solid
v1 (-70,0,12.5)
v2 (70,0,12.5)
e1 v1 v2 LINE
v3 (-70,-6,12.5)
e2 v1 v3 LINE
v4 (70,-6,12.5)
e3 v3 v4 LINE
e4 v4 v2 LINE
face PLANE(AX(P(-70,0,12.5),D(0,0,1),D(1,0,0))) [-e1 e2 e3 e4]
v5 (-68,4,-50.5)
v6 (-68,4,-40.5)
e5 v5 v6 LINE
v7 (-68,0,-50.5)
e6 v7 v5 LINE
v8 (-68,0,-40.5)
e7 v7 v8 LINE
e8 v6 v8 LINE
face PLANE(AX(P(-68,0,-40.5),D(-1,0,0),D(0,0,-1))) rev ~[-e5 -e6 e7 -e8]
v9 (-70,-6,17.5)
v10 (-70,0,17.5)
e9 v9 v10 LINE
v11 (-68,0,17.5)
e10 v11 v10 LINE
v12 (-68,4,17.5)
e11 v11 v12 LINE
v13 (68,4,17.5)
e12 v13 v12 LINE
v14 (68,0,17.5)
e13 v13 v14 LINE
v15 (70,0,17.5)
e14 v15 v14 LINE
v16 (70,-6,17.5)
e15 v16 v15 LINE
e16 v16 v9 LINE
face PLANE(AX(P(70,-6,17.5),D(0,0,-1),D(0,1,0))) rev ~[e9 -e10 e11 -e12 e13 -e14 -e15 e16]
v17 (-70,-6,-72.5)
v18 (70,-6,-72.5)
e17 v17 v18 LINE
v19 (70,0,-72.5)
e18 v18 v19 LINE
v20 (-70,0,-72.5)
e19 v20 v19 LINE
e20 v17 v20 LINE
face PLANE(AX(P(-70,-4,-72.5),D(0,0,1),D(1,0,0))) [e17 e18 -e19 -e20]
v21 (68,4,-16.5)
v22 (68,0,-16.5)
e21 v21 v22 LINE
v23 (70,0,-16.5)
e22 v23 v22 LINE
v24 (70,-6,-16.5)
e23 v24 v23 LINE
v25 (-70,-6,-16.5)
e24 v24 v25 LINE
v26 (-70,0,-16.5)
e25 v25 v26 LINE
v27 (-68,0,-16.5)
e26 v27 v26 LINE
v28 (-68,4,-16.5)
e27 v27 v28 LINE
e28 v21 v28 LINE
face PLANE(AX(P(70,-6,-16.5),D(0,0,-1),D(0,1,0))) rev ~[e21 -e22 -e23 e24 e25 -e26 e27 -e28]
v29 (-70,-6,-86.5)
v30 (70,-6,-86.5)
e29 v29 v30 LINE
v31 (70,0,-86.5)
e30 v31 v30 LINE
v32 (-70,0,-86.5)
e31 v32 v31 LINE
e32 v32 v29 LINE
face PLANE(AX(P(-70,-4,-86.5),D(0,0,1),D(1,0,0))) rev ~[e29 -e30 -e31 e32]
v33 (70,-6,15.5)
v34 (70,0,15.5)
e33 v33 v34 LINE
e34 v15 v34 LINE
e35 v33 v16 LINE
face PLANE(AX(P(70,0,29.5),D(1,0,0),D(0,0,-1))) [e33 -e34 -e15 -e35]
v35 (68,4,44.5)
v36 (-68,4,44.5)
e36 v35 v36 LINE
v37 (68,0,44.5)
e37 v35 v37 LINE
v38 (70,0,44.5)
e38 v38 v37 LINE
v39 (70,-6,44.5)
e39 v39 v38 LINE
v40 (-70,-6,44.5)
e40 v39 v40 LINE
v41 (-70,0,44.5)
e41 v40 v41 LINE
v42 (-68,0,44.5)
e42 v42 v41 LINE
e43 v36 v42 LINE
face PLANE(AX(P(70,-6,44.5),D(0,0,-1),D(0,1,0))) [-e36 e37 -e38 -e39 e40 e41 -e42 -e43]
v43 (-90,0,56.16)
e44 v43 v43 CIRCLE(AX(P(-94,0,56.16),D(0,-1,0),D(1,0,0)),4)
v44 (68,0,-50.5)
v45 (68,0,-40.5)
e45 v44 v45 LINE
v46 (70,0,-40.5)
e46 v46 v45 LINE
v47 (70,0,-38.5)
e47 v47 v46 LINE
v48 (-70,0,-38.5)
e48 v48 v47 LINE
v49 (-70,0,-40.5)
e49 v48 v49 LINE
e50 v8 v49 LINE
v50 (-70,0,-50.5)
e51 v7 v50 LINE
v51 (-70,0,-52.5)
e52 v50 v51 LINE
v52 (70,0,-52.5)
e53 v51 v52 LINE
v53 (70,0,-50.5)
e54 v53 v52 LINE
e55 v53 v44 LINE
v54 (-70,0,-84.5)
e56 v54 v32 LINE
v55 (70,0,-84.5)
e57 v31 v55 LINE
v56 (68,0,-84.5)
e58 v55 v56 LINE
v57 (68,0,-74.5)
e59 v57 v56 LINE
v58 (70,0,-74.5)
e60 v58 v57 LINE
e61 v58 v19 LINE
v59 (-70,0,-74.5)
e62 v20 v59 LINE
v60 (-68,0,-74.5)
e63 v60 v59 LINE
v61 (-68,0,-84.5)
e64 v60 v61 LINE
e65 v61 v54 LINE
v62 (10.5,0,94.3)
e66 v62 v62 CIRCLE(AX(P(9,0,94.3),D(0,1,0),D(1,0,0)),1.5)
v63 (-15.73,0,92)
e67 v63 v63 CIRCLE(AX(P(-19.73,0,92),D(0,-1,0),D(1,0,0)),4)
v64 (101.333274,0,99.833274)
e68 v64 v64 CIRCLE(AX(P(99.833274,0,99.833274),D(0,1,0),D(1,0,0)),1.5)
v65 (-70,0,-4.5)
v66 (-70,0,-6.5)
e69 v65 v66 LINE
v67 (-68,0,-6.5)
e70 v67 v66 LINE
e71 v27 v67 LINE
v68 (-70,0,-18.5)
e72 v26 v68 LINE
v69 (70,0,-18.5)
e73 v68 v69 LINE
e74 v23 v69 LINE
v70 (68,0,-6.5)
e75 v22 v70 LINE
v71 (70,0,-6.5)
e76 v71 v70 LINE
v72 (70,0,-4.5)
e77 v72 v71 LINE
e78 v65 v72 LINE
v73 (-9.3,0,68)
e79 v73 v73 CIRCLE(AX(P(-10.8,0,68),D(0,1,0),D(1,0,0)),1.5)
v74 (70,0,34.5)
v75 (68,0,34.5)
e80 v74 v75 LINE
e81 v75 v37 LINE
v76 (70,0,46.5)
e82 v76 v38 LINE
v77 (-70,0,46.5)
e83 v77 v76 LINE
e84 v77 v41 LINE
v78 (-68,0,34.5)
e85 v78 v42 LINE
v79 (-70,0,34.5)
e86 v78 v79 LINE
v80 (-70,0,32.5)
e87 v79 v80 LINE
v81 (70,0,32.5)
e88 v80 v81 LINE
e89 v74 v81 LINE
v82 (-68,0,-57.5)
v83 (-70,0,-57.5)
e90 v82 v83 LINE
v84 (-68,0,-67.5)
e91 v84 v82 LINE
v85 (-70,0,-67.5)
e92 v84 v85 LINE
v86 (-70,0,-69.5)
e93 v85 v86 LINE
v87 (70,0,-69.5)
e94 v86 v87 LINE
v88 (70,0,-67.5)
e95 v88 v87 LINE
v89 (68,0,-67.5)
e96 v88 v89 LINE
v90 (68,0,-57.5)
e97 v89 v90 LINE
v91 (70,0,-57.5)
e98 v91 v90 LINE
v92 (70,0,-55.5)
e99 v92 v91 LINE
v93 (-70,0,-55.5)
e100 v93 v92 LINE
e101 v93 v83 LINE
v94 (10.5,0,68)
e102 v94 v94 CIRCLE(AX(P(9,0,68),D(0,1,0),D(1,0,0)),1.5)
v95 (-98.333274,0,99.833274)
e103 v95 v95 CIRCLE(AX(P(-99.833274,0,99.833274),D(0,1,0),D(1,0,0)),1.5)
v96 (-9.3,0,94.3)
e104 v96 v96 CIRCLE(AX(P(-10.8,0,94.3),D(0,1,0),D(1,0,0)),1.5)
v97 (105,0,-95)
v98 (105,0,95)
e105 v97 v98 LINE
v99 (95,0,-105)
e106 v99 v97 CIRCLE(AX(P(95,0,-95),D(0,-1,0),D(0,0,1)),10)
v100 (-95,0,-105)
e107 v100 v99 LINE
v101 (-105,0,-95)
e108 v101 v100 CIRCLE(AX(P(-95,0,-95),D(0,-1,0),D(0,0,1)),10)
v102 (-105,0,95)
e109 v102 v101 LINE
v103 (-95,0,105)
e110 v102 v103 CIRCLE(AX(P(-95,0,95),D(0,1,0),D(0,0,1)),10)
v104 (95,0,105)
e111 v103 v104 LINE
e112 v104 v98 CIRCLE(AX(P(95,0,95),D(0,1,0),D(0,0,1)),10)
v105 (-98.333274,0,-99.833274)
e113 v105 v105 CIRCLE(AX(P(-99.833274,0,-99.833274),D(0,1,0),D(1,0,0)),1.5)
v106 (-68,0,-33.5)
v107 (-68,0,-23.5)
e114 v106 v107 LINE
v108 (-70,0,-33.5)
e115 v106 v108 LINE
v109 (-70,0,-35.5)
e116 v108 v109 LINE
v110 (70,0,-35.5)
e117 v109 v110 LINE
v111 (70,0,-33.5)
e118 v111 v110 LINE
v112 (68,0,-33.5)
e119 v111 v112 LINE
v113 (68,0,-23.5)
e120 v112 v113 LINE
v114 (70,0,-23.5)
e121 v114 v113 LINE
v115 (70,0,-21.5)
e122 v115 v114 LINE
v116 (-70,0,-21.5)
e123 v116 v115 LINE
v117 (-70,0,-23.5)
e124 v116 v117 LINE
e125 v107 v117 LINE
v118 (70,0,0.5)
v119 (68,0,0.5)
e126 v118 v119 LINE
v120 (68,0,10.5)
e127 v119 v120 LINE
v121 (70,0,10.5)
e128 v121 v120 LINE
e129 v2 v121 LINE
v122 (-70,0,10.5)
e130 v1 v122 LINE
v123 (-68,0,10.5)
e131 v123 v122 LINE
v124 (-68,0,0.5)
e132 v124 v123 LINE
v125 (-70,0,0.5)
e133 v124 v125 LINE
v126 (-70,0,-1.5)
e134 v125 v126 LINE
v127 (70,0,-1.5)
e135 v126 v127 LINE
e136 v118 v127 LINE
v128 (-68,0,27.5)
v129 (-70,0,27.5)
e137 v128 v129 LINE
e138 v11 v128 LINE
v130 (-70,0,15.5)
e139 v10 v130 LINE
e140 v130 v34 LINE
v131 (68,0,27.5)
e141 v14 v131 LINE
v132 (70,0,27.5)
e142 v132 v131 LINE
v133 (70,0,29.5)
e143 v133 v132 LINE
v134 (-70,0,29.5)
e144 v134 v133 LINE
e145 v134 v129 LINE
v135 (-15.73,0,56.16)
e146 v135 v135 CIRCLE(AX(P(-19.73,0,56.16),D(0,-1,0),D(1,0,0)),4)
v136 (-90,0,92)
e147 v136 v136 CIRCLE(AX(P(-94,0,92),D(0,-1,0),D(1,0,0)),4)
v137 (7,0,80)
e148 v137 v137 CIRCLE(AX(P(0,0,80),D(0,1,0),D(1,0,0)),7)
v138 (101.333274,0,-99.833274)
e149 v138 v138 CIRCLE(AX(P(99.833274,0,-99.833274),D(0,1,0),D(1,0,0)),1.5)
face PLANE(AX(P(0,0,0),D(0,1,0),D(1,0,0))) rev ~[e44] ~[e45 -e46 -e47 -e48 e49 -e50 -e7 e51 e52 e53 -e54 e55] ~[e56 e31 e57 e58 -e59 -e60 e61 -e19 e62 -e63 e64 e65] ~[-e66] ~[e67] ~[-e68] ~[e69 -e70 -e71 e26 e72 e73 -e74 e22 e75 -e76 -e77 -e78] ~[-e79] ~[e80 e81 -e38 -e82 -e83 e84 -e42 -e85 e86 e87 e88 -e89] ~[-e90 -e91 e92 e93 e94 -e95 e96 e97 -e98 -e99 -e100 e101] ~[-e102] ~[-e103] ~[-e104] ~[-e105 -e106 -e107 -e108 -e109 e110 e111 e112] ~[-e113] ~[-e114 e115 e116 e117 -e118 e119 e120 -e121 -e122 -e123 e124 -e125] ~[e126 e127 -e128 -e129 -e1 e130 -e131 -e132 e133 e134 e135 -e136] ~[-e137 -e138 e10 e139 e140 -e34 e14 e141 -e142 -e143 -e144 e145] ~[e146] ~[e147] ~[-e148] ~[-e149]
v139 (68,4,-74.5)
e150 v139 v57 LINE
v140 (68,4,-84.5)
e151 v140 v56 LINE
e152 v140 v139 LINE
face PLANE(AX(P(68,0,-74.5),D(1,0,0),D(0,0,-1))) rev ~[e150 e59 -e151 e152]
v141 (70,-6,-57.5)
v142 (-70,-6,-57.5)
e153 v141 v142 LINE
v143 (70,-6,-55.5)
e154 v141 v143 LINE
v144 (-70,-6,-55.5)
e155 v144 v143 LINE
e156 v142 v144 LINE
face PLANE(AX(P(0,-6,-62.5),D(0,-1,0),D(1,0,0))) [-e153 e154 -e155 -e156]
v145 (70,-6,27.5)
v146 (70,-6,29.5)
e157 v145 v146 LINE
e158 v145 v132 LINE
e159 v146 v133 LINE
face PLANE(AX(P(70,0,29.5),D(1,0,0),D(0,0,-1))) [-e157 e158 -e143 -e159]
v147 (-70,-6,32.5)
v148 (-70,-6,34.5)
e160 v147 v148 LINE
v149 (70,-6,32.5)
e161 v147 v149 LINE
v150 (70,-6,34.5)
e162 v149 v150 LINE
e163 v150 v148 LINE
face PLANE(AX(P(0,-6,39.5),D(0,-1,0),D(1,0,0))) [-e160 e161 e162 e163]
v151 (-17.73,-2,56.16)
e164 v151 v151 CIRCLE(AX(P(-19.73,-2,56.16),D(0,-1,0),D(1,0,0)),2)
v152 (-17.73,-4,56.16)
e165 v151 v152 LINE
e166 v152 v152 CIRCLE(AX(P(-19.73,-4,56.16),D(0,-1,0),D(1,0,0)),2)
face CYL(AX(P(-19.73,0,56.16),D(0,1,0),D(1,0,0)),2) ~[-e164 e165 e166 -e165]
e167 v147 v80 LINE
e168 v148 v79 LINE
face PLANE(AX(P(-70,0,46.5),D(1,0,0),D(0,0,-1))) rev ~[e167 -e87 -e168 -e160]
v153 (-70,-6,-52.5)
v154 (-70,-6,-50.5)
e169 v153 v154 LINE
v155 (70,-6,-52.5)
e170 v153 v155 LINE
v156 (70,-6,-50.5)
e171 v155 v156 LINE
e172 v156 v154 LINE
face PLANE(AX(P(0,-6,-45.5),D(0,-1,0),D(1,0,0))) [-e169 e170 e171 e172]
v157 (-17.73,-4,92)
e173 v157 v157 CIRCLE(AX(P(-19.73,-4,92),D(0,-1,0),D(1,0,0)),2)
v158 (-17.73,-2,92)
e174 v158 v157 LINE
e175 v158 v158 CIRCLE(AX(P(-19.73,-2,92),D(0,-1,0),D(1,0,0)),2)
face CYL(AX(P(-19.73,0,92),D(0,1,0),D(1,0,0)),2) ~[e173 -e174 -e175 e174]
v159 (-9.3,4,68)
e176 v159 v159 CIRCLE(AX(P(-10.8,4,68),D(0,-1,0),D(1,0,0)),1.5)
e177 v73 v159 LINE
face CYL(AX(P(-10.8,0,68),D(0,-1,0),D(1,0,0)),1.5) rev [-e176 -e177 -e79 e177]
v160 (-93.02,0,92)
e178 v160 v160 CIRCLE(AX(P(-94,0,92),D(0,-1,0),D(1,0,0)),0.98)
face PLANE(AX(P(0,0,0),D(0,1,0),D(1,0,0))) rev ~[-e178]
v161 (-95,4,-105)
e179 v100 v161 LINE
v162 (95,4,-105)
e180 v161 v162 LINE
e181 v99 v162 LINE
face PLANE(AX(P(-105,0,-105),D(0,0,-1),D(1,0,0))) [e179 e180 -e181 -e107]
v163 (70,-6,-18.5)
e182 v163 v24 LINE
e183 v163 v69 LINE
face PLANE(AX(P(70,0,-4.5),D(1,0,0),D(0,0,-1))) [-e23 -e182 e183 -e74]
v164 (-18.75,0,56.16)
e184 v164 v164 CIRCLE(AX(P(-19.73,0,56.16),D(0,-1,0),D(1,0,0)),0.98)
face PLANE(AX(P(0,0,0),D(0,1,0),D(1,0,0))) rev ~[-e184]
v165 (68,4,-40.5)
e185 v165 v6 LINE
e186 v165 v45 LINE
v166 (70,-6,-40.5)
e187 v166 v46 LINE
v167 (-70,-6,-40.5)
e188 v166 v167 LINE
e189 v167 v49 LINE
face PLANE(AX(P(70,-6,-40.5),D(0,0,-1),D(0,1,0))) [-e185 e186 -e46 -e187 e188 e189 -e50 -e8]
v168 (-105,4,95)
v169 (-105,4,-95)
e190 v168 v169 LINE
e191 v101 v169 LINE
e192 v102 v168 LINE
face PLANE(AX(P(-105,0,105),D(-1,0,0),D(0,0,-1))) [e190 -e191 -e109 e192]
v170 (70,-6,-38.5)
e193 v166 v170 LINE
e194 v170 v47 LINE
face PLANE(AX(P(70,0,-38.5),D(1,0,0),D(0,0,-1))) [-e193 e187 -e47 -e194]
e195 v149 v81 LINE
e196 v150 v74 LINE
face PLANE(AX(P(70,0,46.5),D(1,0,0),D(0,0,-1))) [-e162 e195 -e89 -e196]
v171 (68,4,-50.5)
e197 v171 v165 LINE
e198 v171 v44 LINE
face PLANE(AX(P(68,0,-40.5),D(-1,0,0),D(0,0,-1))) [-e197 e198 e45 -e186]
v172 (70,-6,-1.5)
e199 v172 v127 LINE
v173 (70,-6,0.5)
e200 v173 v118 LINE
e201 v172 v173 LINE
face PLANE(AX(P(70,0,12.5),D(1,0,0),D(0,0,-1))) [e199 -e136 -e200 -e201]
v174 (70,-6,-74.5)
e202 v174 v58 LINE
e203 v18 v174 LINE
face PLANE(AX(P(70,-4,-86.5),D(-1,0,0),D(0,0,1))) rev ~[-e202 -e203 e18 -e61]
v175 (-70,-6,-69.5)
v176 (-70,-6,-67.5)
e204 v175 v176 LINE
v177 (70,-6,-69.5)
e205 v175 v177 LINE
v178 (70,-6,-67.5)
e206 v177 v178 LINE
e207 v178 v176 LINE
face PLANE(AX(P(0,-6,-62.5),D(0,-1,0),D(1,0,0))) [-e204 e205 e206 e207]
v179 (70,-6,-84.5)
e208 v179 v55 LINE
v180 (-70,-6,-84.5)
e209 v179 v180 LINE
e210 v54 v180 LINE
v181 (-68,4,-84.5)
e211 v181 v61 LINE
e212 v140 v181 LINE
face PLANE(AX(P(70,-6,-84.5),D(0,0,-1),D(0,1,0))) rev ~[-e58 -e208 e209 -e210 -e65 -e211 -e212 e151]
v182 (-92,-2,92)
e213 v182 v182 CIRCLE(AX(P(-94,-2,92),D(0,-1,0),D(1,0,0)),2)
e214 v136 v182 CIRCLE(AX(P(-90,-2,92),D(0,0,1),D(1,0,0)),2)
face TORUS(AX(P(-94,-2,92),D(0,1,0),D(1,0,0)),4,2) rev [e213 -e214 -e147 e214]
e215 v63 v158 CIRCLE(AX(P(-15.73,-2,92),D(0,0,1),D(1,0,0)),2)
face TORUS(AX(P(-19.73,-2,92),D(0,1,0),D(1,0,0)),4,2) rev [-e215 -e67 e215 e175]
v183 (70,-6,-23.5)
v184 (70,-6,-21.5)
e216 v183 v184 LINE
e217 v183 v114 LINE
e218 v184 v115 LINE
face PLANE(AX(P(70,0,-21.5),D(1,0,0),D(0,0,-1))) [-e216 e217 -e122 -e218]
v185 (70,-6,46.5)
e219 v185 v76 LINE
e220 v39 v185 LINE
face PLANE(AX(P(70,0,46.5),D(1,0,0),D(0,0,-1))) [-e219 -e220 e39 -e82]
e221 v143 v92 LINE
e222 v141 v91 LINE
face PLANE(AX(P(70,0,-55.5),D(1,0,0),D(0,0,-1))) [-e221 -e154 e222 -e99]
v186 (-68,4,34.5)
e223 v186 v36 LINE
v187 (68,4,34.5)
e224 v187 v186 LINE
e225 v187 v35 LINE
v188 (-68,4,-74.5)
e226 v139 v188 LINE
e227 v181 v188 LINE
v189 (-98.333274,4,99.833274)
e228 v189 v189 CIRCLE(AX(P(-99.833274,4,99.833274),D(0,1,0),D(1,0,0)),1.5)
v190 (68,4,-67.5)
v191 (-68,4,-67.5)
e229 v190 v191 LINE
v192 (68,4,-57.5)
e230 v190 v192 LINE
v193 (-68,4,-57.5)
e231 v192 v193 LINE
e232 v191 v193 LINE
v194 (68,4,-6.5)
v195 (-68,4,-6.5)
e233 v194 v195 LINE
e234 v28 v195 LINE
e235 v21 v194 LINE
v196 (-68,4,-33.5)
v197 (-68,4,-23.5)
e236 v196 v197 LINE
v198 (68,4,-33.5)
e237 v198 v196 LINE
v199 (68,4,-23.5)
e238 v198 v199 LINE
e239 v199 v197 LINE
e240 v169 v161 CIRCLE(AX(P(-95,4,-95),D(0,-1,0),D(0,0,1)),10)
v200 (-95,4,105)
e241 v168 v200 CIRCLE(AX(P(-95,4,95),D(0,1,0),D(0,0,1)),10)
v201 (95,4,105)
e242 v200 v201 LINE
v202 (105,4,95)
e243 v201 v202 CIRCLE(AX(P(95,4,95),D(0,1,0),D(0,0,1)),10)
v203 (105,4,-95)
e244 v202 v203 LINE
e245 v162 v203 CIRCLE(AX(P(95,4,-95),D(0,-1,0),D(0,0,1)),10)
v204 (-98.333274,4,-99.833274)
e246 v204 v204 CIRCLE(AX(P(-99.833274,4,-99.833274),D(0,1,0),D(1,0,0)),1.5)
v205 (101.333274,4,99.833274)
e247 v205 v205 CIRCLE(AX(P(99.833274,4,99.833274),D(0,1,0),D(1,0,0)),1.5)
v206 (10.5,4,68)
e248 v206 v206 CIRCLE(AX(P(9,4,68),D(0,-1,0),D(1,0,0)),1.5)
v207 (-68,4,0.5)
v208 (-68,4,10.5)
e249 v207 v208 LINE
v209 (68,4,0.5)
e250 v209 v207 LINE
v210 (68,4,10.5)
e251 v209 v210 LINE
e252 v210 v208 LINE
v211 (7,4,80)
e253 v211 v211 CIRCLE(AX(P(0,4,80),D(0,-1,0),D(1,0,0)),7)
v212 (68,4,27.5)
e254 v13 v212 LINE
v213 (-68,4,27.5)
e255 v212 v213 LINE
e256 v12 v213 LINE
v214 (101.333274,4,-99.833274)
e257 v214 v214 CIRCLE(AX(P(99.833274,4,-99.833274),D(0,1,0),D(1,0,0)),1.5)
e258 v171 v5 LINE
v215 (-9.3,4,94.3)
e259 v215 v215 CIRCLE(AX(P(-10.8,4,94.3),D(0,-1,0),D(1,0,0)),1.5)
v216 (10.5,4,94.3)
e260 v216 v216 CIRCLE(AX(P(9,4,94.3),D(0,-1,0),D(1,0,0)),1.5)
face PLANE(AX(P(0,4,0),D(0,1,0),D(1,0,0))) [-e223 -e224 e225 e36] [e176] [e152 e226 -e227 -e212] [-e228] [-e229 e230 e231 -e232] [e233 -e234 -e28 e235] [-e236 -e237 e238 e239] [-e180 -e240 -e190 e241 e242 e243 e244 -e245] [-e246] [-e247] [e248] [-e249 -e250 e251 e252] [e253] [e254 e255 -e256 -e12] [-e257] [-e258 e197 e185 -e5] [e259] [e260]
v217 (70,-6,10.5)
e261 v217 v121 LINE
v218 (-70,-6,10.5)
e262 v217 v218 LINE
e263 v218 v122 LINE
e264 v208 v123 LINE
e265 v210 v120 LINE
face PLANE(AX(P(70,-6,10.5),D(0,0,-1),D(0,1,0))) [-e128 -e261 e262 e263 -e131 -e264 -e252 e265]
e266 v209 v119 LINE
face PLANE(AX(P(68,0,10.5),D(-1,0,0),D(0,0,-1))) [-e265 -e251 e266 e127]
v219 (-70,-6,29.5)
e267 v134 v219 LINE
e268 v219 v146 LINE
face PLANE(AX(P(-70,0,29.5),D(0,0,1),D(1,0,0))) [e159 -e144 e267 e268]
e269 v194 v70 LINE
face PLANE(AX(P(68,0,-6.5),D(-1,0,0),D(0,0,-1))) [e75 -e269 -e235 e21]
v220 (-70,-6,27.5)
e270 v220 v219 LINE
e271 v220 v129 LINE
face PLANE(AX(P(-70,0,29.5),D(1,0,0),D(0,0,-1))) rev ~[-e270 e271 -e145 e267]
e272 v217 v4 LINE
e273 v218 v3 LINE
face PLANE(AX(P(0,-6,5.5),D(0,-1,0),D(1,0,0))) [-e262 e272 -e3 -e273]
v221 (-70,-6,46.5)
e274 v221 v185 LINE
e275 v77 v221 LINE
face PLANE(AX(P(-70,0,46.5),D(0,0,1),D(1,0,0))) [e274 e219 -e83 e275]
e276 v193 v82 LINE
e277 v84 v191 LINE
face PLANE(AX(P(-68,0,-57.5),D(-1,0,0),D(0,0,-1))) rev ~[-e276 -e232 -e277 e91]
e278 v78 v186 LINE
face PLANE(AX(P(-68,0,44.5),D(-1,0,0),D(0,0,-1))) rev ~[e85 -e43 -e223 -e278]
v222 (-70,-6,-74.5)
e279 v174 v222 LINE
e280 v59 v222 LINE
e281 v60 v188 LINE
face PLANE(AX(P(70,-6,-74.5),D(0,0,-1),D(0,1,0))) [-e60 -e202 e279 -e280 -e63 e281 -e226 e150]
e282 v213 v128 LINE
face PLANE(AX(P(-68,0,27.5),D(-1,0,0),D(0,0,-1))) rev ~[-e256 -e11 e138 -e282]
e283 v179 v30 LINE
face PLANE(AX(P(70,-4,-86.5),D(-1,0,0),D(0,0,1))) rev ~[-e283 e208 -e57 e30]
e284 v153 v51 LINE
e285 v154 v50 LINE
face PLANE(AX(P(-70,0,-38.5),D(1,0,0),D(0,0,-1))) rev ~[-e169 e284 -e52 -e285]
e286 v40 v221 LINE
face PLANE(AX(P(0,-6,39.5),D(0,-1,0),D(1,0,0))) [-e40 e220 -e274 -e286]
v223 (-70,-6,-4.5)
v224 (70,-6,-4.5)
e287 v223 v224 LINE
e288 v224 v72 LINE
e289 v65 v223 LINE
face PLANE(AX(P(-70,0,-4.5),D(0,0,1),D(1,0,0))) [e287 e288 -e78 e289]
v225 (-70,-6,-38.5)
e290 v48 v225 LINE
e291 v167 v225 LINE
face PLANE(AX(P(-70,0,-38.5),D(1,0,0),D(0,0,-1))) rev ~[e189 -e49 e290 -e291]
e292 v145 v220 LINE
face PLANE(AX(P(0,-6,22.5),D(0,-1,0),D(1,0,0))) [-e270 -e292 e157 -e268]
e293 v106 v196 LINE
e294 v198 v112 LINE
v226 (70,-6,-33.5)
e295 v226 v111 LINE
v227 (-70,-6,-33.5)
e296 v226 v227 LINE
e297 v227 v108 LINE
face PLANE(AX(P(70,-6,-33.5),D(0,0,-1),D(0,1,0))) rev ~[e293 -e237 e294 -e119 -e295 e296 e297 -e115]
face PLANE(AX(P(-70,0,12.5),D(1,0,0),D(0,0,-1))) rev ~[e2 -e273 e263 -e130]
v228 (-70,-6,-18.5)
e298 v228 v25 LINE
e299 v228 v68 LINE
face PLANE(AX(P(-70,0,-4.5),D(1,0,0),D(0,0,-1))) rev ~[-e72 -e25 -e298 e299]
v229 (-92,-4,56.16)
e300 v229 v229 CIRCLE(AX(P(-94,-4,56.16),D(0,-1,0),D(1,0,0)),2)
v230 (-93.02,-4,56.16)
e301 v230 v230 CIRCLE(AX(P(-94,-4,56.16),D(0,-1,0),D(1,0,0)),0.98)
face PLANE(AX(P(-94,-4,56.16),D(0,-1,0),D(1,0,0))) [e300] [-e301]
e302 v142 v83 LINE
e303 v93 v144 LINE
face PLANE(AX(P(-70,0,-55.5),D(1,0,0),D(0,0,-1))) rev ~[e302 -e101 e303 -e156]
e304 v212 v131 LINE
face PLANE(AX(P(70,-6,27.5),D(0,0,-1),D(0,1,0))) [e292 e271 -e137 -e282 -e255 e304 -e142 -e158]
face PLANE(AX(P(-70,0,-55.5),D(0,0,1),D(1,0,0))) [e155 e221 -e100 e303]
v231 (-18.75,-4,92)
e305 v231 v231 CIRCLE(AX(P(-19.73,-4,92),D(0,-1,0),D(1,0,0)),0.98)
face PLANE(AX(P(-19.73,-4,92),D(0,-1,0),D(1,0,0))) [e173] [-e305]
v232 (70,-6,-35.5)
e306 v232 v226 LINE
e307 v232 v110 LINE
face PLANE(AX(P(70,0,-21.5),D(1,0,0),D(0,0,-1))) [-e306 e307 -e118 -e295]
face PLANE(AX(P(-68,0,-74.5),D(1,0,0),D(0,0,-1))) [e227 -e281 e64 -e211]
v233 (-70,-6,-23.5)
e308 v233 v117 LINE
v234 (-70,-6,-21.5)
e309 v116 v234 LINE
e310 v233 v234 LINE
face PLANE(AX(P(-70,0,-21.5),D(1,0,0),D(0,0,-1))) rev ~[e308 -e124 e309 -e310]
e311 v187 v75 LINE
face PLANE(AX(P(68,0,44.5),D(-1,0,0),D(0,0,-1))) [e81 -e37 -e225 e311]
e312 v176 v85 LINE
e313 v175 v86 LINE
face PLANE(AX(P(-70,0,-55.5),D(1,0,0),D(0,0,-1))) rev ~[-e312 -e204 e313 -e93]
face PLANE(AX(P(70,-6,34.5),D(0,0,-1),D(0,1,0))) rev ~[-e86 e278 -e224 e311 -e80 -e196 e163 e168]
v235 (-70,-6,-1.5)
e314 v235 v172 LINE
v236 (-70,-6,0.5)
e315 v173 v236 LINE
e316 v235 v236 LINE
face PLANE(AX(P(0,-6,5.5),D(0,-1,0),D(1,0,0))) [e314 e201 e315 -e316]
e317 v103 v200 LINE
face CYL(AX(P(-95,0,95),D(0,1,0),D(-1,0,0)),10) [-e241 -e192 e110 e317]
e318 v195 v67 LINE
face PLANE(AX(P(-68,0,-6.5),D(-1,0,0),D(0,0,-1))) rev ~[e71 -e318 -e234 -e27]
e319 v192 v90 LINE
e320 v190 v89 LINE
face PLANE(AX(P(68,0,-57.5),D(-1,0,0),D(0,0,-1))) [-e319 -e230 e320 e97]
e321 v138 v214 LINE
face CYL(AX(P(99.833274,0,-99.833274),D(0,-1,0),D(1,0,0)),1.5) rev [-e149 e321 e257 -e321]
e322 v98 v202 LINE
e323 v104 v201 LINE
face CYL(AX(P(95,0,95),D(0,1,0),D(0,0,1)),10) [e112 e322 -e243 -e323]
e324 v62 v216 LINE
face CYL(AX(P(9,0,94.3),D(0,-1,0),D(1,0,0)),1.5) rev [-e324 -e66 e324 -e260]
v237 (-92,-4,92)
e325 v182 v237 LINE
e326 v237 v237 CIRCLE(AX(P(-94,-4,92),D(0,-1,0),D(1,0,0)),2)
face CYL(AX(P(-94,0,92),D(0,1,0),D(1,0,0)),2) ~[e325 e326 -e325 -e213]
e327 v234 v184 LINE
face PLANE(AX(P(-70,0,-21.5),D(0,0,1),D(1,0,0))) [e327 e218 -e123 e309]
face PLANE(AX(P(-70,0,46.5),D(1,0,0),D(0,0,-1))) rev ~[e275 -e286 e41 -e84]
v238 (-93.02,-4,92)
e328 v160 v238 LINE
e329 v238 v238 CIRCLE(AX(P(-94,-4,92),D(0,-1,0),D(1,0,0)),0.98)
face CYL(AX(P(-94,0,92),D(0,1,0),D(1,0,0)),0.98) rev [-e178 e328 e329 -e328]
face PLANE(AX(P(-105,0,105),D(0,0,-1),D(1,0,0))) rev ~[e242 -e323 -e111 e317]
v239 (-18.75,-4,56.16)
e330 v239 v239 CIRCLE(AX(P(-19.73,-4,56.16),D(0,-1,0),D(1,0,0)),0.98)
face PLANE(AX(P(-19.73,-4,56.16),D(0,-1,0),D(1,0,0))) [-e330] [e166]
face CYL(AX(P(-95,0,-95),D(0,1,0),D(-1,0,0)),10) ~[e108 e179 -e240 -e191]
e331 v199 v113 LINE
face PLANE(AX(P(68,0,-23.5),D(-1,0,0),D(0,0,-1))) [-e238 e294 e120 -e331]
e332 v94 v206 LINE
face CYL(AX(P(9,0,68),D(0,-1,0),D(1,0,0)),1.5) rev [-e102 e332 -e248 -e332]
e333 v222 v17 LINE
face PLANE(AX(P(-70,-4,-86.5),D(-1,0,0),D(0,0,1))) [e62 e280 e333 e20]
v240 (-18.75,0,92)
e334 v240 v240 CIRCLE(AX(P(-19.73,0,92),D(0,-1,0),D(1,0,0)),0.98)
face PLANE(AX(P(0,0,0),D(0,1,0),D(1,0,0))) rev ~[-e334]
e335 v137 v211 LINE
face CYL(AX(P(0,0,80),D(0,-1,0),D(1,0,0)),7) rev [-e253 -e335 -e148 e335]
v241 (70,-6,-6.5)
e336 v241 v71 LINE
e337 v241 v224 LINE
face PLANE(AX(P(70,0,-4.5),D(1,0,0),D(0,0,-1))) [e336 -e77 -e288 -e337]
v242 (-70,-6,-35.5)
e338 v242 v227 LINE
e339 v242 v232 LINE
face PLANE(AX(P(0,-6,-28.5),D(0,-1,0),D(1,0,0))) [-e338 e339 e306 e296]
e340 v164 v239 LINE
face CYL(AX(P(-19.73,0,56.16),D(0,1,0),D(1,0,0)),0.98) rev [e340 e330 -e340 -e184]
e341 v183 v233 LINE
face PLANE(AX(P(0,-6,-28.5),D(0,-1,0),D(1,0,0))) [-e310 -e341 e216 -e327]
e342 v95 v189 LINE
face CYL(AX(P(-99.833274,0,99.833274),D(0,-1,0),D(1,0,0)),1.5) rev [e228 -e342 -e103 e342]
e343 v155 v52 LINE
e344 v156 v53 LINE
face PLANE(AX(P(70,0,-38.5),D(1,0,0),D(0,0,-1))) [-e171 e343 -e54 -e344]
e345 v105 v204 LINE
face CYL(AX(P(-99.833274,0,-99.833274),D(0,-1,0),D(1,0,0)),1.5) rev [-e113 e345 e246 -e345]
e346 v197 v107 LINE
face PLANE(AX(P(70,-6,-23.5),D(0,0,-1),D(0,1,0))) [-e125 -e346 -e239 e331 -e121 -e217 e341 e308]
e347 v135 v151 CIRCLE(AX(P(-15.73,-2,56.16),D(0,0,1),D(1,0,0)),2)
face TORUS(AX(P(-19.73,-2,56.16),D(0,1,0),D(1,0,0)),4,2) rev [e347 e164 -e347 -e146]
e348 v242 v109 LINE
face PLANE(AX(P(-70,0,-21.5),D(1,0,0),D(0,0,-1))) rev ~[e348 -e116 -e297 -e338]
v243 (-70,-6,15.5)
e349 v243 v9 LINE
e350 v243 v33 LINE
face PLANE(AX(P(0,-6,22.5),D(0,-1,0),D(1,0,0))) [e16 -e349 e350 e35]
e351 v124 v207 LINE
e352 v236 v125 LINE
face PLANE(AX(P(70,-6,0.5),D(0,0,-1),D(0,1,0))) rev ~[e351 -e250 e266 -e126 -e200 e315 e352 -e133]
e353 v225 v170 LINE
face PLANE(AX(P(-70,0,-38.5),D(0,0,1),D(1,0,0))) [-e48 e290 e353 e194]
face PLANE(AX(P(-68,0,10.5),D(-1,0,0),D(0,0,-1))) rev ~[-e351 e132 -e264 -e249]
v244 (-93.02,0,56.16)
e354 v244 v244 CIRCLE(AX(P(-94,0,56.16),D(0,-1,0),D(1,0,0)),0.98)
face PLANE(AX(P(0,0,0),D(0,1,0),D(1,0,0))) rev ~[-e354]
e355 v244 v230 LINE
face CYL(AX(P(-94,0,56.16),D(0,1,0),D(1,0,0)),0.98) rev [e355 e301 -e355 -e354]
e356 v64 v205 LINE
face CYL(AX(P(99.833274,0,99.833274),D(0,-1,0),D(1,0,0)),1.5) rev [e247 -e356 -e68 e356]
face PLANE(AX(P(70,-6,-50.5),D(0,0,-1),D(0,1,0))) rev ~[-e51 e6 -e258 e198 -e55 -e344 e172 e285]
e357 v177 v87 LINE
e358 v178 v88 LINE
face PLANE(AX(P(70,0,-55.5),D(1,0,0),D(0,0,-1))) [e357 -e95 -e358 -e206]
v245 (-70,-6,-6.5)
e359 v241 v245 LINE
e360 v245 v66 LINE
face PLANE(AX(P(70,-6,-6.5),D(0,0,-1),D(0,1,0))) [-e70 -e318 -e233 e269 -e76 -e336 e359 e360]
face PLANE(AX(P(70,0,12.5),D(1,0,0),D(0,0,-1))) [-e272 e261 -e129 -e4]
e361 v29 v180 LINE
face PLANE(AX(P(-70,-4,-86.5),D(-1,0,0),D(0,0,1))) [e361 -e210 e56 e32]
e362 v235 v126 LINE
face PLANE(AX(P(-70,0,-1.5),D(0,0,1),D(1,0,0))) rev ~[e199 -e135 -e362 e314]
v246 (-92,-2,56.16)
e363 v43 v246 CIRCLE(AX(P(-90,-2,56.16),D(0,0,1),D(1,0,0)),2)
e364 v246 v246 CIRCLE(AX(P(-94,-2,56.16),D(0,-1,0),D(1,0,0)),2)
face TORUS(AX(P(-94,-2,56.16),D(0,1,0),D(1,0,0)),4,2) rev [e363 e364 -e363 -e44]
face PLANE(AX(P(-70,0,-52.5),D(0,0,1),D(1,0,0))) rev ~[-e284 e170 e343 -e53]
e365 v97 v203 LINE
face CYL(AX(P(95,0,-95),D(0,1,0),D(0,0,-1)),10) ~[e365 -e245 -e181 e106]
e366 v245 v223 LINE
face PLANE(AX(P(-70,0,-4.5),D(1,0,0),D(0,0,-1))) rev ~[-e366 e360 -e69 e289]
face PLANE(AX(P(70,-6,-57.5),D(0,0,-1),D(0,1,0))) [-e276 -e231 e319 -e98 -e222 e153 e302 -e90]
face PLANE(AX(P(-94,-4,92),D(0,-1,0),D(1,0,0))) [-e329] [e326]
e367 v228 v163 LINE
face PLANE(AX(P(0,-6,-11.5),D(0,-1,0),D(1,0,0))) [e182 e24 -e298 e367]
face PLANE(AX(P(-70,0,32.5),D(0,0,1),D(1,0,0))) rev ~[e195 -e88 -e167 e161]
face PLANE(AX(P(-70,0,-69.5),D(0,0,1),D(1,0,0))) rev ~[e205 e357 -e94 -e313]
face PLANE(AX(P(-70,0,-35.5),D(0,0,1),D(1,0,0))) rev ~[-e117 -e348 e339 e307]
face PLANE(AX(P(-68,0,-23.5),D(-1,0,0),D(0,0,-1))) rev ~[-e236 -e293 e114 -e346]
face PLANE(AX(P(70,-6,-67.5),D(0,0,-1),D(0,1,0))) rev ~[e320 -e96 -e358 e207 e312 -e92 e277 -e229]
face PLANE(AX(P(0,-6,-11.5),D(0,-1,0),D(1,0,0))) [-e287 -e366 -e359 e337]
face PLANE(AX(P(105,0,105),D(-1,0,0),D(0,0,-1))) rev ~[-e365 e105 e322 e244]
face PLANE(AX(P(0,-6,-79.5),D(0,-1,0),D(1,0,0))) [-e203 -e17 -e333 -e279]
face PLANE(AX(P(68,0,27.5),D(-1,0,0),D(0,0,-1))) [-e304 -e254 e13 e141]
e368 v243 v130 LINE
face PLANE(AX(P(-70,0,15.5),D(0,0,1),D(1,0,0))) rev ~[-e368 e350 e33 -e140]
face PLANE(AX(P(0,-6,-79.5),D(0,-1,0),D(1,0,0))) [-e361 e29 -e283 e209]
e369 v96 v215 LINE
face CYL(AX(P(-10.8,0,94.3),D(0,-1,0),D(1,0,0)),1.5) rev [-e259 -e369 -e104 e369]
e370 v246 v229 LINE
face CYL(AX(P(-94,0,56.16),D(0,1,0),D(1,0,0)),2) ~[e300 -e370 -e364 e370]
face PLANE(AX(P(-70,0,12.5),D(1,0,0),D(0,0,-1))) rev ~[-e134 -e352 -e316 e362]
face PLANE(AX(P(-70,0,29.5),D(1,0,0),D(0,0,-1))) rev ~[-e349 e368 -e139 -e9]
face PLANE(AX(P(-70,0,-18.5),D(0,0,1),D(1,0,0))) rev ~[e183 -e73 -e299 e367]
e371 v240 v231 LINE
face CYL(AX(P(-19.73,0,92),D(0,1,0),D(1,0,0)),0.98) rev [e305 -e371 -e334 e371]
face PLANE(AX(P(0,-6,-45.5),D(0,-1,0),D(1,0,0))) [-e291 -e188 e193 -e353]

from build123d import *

# Parameters (mm, degrees)
SKETCH1_W               = 210
SKETCH1_H               = 210
MAINEXTRUDE_DEPTH       = 4
SKETCH1_6_R             = 1.5
SCREWHOLES_DEPTH        = 4
ROUNDEDCORNERS_R        = 10
SKETCH3_R               = 7
SKETCH3_R_2             = 1.5
SKETCH3_W               = 136
SKETCH3_H               = 10
TRENCH_DEPTH            = 10
SKETCH4_W               = 140
SKETCH4_H               = 14
SKETCH4_W_2             = 136
SKETCH4_H_2             = 10
TRENCH_WALLS_DEPTH      = 4
SKETCH5_W               = 140
SKETCH5_H               = 14
TRENCH_BOTTOM_DEPTH     = 2
SKETCH7_W               = 10
SKETCH7_H               = 6
WIRE_OPENING_DEPTH      = 36
WIRE_OPENING_DEPTH_BACK = 176
SKETCH9_R               = 2
SKETCH9_R_2             = 0.98
PCB_HOLES_DEPTH         = 4
PCB_ROUNDS_R            = 2


with BuildPart() as part:
    # Sketch1 → MainExtrude (new body)
    with BuildSketch(Plane(origin=(0, 0, 0), x_dir=(1, 0, 0), z_dir=(0, 1, 0))):
        Rectangle(SKETCH1_W, SKETCH1_H)
    extrude(amount=MAINEXTRUDE_DEPTH)

    # Sketch1<6> → ScrewHoles (cut)
    with BuildSketch(Plane(origin=(0, 0, 0), x_dir=(1, 0, 0), z_dir=(0, 1, 0))):
        with Locations((-99.833273811, 99.833273811)):
            Circle(SKETCH1_6_R)
        with Locations((-99.833273811, -99.833273811)):
            Circle(SKETCH1_6_R)
        with Locations((99.833273811, -99.833273811)):
            Circle(SKETCH1_6_R)
        with Locations((99.833273811, 99.833273811)):
            Circle(SKETCH1_6_R)
    extrude(amount=SCREWHOLES_DEPTH, mode=Mode.SUBTRACT)

    # RoundedCorners
    roundedcorners_edges = [part.edges().sort_by_distance(p)[0] for p in [
        (-105, 2, -105),
        (-105, 2, 105),
        (105, 2, 105),
        (105, 2, -105),
    ]]
    fillet(roundedcorners_edges, radius=ROUNDEDCORNERS_R)

    # Sketch3 → Trench (cut)
    with BuildSketch(Plane(origin=(0, 0, 0), x_dir=(1, 0, 0), z_dir=(0, 1, 0))):
        with Locations((0, -80)):
            Circle(SKETCH3_R)
        with Locations((-10.8, -68)):
            Circle(SKETCH3_R_2)
        with Locations((-10.8, -94.3)):
            Circle(SKETCH3_R_2)
        with Locations((9, -94.3)):
            Circle(SKETCH3_R_2)
        with Locations((9, -68)):
            Circle(SKETCH3_R_2)
        with Locations((0, 79.5)):
            Rectangle(SKETCH3_W, SKETCH3_H)
        with Locations((0, 62.5)):
            Rectangle(SKETCH3_W, SKETCH3_H)
        with Locations((0, 45.5)):
            Rectangle(SKETCH3_W, SKETCH3_H)
        with Locations((0, 28.5)):
            Rectangle(SKETCH3_W, SKETCH3_H)
        with Locations((0, 11.5)):
            Rectangle(SKETCH3_W, SKETCH3_H)
        with Locations((0, -5.5)):
            Rectangle(SKETCH3_W, SKETCH3_H)
        with Locations((0, -22.5)):
            Rectangle(SKETCH3_W, SKETCH3_H)
        with Locations((0, -39.5)):
            Rectangle(SKETCH3_W, SKETCH3_H)
    extrude(amount=TRENCH_DEPTH, mode=Mode.SUBTRACT)

    # Sketch4 → Trench Walls (add)
    with BuildSketch(Plane(origin=(0, 0, 0), x_dir=(1, 0, 0), z_dir=(0, 1, 0))):
        with Locations((0, 79.5)):
            Rectangle(SKETCH4_W, SKETCH4_H)
        with Locations((0, 79.5)):
            Rectangle(SKETCH4_W_2, SKETCH4_H_2, mode=Mode.SUBTRACT)
        with Locations((0, 62.5)):
            Rectangle(SKETCH4_W, SKETCH4_H)
        with Locations((0, 62.5)):
            Rectangle(SKETCH4_W_2, SKETCH4_H_2, mode=Mode.SUBTRACT)
        with Locations((0, 45.5)):
            Rectangle(SKETCH4_W, SKETCH4_H)
        with Locations((0, 45.5)):
            Rectangle(SKETCH4_W_2, SKETCH4_H_2, mode=Mode.SUBTRACT)
        with Locations((0, 28.5)):
            Rectangle(SKETCH4_W, SKETCH4_H)
        with Locations((0, 28.5)):
            Rectangle(SKETCH4_W_2, SKETCH4_H_2, mode=Mode.SUBTRACT)
        with Locations((0, 11.5)):
            Rectangle(SKETCH4_W, SKETCH4_H)
        with Locations((0, 11.5)):
            Rectangle(SKETCH4_W_2, SKETCH4_H_2, mode=Mode.SUBTRACT)
        with Locations((0, -5.5)):
            Rectangle(SKETCH4_W, SKETCH4_H)
        with Locations((0, -5.5)):
            Rectangle(SKETCH4_W_2, SKETCH4_H_2, mode=Mode.SUBTRACT)
        with Locations((0, -22.5)):
            Rectangle(SKETCH4_W, SKETCH4_H)
        with Locations((0, -22.5)):
            Rectangle(SKETCH4_W_2, SKETCH4_H_2, mode=Mode.SUBTRACT)
        with Locations((0, -39.5)):
            Rectangle(SKETCH4_W, SKETCH4_H)
        with Locations((0, -39.5)):
            Rectangle(SKETCH4_W_2, SKETCH4_H_2, mode=Mode.SUBTRACT)
    extrude(amount=-TRENCH_WALLS_DEPTH)

    # Sketch5 → Trench Bottom (add)
    with BuildSketch(Plane.XZ.offset(4)):
        with Locations((0, -79.5)):
            Rectangle(SKETCH5_W, SKETCH5_H)
        with Locations((0, -62.5)):
            Rectangle(SKETCH5_W, SKETCH5_H)
        with Locations((0, -45.5)):
            Rectangle(SKETCH5_W, SKETCH5_H)
        with Locations((0, -28.5)):
            Rectangle(SKETCH5_W, SKETCH5_H)
        with Locations((0, -11.5)):
            Rectangle(SKETCH5_W, SKETCH5_H)
        with Locations((0, 5.5)):
            Rectangle(SKETCH5_W, SKETCH5_H)
        with Locations((0, 22.5)):
            Rectangle(SKETCH5_W, SKETCH5_H)
        with Locations((0, 39.5)):
            Rectangle(SKETCH5_W, SKETCH5_H)
    extrude(amount=TRENCH_BOTTOM_DEPTH)

    # Sketch7 → Wire Opening (cut, two sides)
    with BuildSketch(Plane(origin=(70, 0, 0), x_dir=(0, 0, -1), z_dir=(1, 0, 0))) as wire_opening_sk:
        with Locations((-39.5, -3)):
            Rectangle(SKETCH7_W, SKETCH7_H)
        with Locations((-22.5, -3)):
            Rectangle(SKETCH7_W, SKETCH7_H)
        with Locations((-5.5, -3)):
            Rectangle(SKETCH7_W, SKETCH7_H)
        with Locations((11.5, -3)):
            Rectangle(SKETCH7_W, SKETCH7_H)
        with Locations((28.5, -3)):
            Rectangle(SKETCH7_W, SKETCH7_H)
        with Locations((45.5, -3)):
            Rectangle(SKETCH7_W, SKETCH7_H)
        with Locations((62.5, -3)):
            Rectangle(SKETCH7_W, SKETCH7_H)
        with Locations((79.5, -3)):
            Rectangle(SKETCH7_W, SKETCH7_H)
    extrude(amount=WIRE_OPENING_DEPTH, mode=Mode.SUBTRACT)
    extrude(wire_opening_sk.sketch, amount=-WIRE_OPENING_DEPTH_BACK, mode=Mode.SUBTRACT)

    # Sketch9 → PCB Holes (add)
    with BuildSketch(Plane.XZ):
        with Locations((-94, 92)):
            Circle(SKETCH9_R)
        with Locations((-94, 92)):
            Circle(SKETCH9_R_2, mode=Mode.SUBTRACT)
        with Locations((-19.73, 92)):
            Circle(SKETCH9_R)
        with Locations((-19.73, 92)):
            Circle(SKETCH9_R_2, mode=Mode.SUBTRACT)
        with Locations((-94, 56.16)):
            Circle(SKETCH9_R)
        with Locations((-94, 56.16)):
            Circle(SKETCH9_R_2, mode=Mode.SUBTRACT)
        with Locations((-19.73, 56.16)):
            Circle(SKETCH9_R)
        with Locations((-19.73, 56.16)):
            Circle(SKETCH9_R_2, mode=Mode.SUBTRACT)
    extrude(amount=PCB_HOLES_DEPTH)

    # PCB Rounds
    pcb_rounds_edges = [part.edges().sort_by_distance(p)[0] for p in [
        (-96, 0, 92),
        (-21.73, 0, 56.16),
        (-96, 0, 56.16),
        (-21.73, 0, 92),
    ]]
    fillet(pcb_rounds_edges, radius=PCB_ROUNDS_R)


solid = part.part
